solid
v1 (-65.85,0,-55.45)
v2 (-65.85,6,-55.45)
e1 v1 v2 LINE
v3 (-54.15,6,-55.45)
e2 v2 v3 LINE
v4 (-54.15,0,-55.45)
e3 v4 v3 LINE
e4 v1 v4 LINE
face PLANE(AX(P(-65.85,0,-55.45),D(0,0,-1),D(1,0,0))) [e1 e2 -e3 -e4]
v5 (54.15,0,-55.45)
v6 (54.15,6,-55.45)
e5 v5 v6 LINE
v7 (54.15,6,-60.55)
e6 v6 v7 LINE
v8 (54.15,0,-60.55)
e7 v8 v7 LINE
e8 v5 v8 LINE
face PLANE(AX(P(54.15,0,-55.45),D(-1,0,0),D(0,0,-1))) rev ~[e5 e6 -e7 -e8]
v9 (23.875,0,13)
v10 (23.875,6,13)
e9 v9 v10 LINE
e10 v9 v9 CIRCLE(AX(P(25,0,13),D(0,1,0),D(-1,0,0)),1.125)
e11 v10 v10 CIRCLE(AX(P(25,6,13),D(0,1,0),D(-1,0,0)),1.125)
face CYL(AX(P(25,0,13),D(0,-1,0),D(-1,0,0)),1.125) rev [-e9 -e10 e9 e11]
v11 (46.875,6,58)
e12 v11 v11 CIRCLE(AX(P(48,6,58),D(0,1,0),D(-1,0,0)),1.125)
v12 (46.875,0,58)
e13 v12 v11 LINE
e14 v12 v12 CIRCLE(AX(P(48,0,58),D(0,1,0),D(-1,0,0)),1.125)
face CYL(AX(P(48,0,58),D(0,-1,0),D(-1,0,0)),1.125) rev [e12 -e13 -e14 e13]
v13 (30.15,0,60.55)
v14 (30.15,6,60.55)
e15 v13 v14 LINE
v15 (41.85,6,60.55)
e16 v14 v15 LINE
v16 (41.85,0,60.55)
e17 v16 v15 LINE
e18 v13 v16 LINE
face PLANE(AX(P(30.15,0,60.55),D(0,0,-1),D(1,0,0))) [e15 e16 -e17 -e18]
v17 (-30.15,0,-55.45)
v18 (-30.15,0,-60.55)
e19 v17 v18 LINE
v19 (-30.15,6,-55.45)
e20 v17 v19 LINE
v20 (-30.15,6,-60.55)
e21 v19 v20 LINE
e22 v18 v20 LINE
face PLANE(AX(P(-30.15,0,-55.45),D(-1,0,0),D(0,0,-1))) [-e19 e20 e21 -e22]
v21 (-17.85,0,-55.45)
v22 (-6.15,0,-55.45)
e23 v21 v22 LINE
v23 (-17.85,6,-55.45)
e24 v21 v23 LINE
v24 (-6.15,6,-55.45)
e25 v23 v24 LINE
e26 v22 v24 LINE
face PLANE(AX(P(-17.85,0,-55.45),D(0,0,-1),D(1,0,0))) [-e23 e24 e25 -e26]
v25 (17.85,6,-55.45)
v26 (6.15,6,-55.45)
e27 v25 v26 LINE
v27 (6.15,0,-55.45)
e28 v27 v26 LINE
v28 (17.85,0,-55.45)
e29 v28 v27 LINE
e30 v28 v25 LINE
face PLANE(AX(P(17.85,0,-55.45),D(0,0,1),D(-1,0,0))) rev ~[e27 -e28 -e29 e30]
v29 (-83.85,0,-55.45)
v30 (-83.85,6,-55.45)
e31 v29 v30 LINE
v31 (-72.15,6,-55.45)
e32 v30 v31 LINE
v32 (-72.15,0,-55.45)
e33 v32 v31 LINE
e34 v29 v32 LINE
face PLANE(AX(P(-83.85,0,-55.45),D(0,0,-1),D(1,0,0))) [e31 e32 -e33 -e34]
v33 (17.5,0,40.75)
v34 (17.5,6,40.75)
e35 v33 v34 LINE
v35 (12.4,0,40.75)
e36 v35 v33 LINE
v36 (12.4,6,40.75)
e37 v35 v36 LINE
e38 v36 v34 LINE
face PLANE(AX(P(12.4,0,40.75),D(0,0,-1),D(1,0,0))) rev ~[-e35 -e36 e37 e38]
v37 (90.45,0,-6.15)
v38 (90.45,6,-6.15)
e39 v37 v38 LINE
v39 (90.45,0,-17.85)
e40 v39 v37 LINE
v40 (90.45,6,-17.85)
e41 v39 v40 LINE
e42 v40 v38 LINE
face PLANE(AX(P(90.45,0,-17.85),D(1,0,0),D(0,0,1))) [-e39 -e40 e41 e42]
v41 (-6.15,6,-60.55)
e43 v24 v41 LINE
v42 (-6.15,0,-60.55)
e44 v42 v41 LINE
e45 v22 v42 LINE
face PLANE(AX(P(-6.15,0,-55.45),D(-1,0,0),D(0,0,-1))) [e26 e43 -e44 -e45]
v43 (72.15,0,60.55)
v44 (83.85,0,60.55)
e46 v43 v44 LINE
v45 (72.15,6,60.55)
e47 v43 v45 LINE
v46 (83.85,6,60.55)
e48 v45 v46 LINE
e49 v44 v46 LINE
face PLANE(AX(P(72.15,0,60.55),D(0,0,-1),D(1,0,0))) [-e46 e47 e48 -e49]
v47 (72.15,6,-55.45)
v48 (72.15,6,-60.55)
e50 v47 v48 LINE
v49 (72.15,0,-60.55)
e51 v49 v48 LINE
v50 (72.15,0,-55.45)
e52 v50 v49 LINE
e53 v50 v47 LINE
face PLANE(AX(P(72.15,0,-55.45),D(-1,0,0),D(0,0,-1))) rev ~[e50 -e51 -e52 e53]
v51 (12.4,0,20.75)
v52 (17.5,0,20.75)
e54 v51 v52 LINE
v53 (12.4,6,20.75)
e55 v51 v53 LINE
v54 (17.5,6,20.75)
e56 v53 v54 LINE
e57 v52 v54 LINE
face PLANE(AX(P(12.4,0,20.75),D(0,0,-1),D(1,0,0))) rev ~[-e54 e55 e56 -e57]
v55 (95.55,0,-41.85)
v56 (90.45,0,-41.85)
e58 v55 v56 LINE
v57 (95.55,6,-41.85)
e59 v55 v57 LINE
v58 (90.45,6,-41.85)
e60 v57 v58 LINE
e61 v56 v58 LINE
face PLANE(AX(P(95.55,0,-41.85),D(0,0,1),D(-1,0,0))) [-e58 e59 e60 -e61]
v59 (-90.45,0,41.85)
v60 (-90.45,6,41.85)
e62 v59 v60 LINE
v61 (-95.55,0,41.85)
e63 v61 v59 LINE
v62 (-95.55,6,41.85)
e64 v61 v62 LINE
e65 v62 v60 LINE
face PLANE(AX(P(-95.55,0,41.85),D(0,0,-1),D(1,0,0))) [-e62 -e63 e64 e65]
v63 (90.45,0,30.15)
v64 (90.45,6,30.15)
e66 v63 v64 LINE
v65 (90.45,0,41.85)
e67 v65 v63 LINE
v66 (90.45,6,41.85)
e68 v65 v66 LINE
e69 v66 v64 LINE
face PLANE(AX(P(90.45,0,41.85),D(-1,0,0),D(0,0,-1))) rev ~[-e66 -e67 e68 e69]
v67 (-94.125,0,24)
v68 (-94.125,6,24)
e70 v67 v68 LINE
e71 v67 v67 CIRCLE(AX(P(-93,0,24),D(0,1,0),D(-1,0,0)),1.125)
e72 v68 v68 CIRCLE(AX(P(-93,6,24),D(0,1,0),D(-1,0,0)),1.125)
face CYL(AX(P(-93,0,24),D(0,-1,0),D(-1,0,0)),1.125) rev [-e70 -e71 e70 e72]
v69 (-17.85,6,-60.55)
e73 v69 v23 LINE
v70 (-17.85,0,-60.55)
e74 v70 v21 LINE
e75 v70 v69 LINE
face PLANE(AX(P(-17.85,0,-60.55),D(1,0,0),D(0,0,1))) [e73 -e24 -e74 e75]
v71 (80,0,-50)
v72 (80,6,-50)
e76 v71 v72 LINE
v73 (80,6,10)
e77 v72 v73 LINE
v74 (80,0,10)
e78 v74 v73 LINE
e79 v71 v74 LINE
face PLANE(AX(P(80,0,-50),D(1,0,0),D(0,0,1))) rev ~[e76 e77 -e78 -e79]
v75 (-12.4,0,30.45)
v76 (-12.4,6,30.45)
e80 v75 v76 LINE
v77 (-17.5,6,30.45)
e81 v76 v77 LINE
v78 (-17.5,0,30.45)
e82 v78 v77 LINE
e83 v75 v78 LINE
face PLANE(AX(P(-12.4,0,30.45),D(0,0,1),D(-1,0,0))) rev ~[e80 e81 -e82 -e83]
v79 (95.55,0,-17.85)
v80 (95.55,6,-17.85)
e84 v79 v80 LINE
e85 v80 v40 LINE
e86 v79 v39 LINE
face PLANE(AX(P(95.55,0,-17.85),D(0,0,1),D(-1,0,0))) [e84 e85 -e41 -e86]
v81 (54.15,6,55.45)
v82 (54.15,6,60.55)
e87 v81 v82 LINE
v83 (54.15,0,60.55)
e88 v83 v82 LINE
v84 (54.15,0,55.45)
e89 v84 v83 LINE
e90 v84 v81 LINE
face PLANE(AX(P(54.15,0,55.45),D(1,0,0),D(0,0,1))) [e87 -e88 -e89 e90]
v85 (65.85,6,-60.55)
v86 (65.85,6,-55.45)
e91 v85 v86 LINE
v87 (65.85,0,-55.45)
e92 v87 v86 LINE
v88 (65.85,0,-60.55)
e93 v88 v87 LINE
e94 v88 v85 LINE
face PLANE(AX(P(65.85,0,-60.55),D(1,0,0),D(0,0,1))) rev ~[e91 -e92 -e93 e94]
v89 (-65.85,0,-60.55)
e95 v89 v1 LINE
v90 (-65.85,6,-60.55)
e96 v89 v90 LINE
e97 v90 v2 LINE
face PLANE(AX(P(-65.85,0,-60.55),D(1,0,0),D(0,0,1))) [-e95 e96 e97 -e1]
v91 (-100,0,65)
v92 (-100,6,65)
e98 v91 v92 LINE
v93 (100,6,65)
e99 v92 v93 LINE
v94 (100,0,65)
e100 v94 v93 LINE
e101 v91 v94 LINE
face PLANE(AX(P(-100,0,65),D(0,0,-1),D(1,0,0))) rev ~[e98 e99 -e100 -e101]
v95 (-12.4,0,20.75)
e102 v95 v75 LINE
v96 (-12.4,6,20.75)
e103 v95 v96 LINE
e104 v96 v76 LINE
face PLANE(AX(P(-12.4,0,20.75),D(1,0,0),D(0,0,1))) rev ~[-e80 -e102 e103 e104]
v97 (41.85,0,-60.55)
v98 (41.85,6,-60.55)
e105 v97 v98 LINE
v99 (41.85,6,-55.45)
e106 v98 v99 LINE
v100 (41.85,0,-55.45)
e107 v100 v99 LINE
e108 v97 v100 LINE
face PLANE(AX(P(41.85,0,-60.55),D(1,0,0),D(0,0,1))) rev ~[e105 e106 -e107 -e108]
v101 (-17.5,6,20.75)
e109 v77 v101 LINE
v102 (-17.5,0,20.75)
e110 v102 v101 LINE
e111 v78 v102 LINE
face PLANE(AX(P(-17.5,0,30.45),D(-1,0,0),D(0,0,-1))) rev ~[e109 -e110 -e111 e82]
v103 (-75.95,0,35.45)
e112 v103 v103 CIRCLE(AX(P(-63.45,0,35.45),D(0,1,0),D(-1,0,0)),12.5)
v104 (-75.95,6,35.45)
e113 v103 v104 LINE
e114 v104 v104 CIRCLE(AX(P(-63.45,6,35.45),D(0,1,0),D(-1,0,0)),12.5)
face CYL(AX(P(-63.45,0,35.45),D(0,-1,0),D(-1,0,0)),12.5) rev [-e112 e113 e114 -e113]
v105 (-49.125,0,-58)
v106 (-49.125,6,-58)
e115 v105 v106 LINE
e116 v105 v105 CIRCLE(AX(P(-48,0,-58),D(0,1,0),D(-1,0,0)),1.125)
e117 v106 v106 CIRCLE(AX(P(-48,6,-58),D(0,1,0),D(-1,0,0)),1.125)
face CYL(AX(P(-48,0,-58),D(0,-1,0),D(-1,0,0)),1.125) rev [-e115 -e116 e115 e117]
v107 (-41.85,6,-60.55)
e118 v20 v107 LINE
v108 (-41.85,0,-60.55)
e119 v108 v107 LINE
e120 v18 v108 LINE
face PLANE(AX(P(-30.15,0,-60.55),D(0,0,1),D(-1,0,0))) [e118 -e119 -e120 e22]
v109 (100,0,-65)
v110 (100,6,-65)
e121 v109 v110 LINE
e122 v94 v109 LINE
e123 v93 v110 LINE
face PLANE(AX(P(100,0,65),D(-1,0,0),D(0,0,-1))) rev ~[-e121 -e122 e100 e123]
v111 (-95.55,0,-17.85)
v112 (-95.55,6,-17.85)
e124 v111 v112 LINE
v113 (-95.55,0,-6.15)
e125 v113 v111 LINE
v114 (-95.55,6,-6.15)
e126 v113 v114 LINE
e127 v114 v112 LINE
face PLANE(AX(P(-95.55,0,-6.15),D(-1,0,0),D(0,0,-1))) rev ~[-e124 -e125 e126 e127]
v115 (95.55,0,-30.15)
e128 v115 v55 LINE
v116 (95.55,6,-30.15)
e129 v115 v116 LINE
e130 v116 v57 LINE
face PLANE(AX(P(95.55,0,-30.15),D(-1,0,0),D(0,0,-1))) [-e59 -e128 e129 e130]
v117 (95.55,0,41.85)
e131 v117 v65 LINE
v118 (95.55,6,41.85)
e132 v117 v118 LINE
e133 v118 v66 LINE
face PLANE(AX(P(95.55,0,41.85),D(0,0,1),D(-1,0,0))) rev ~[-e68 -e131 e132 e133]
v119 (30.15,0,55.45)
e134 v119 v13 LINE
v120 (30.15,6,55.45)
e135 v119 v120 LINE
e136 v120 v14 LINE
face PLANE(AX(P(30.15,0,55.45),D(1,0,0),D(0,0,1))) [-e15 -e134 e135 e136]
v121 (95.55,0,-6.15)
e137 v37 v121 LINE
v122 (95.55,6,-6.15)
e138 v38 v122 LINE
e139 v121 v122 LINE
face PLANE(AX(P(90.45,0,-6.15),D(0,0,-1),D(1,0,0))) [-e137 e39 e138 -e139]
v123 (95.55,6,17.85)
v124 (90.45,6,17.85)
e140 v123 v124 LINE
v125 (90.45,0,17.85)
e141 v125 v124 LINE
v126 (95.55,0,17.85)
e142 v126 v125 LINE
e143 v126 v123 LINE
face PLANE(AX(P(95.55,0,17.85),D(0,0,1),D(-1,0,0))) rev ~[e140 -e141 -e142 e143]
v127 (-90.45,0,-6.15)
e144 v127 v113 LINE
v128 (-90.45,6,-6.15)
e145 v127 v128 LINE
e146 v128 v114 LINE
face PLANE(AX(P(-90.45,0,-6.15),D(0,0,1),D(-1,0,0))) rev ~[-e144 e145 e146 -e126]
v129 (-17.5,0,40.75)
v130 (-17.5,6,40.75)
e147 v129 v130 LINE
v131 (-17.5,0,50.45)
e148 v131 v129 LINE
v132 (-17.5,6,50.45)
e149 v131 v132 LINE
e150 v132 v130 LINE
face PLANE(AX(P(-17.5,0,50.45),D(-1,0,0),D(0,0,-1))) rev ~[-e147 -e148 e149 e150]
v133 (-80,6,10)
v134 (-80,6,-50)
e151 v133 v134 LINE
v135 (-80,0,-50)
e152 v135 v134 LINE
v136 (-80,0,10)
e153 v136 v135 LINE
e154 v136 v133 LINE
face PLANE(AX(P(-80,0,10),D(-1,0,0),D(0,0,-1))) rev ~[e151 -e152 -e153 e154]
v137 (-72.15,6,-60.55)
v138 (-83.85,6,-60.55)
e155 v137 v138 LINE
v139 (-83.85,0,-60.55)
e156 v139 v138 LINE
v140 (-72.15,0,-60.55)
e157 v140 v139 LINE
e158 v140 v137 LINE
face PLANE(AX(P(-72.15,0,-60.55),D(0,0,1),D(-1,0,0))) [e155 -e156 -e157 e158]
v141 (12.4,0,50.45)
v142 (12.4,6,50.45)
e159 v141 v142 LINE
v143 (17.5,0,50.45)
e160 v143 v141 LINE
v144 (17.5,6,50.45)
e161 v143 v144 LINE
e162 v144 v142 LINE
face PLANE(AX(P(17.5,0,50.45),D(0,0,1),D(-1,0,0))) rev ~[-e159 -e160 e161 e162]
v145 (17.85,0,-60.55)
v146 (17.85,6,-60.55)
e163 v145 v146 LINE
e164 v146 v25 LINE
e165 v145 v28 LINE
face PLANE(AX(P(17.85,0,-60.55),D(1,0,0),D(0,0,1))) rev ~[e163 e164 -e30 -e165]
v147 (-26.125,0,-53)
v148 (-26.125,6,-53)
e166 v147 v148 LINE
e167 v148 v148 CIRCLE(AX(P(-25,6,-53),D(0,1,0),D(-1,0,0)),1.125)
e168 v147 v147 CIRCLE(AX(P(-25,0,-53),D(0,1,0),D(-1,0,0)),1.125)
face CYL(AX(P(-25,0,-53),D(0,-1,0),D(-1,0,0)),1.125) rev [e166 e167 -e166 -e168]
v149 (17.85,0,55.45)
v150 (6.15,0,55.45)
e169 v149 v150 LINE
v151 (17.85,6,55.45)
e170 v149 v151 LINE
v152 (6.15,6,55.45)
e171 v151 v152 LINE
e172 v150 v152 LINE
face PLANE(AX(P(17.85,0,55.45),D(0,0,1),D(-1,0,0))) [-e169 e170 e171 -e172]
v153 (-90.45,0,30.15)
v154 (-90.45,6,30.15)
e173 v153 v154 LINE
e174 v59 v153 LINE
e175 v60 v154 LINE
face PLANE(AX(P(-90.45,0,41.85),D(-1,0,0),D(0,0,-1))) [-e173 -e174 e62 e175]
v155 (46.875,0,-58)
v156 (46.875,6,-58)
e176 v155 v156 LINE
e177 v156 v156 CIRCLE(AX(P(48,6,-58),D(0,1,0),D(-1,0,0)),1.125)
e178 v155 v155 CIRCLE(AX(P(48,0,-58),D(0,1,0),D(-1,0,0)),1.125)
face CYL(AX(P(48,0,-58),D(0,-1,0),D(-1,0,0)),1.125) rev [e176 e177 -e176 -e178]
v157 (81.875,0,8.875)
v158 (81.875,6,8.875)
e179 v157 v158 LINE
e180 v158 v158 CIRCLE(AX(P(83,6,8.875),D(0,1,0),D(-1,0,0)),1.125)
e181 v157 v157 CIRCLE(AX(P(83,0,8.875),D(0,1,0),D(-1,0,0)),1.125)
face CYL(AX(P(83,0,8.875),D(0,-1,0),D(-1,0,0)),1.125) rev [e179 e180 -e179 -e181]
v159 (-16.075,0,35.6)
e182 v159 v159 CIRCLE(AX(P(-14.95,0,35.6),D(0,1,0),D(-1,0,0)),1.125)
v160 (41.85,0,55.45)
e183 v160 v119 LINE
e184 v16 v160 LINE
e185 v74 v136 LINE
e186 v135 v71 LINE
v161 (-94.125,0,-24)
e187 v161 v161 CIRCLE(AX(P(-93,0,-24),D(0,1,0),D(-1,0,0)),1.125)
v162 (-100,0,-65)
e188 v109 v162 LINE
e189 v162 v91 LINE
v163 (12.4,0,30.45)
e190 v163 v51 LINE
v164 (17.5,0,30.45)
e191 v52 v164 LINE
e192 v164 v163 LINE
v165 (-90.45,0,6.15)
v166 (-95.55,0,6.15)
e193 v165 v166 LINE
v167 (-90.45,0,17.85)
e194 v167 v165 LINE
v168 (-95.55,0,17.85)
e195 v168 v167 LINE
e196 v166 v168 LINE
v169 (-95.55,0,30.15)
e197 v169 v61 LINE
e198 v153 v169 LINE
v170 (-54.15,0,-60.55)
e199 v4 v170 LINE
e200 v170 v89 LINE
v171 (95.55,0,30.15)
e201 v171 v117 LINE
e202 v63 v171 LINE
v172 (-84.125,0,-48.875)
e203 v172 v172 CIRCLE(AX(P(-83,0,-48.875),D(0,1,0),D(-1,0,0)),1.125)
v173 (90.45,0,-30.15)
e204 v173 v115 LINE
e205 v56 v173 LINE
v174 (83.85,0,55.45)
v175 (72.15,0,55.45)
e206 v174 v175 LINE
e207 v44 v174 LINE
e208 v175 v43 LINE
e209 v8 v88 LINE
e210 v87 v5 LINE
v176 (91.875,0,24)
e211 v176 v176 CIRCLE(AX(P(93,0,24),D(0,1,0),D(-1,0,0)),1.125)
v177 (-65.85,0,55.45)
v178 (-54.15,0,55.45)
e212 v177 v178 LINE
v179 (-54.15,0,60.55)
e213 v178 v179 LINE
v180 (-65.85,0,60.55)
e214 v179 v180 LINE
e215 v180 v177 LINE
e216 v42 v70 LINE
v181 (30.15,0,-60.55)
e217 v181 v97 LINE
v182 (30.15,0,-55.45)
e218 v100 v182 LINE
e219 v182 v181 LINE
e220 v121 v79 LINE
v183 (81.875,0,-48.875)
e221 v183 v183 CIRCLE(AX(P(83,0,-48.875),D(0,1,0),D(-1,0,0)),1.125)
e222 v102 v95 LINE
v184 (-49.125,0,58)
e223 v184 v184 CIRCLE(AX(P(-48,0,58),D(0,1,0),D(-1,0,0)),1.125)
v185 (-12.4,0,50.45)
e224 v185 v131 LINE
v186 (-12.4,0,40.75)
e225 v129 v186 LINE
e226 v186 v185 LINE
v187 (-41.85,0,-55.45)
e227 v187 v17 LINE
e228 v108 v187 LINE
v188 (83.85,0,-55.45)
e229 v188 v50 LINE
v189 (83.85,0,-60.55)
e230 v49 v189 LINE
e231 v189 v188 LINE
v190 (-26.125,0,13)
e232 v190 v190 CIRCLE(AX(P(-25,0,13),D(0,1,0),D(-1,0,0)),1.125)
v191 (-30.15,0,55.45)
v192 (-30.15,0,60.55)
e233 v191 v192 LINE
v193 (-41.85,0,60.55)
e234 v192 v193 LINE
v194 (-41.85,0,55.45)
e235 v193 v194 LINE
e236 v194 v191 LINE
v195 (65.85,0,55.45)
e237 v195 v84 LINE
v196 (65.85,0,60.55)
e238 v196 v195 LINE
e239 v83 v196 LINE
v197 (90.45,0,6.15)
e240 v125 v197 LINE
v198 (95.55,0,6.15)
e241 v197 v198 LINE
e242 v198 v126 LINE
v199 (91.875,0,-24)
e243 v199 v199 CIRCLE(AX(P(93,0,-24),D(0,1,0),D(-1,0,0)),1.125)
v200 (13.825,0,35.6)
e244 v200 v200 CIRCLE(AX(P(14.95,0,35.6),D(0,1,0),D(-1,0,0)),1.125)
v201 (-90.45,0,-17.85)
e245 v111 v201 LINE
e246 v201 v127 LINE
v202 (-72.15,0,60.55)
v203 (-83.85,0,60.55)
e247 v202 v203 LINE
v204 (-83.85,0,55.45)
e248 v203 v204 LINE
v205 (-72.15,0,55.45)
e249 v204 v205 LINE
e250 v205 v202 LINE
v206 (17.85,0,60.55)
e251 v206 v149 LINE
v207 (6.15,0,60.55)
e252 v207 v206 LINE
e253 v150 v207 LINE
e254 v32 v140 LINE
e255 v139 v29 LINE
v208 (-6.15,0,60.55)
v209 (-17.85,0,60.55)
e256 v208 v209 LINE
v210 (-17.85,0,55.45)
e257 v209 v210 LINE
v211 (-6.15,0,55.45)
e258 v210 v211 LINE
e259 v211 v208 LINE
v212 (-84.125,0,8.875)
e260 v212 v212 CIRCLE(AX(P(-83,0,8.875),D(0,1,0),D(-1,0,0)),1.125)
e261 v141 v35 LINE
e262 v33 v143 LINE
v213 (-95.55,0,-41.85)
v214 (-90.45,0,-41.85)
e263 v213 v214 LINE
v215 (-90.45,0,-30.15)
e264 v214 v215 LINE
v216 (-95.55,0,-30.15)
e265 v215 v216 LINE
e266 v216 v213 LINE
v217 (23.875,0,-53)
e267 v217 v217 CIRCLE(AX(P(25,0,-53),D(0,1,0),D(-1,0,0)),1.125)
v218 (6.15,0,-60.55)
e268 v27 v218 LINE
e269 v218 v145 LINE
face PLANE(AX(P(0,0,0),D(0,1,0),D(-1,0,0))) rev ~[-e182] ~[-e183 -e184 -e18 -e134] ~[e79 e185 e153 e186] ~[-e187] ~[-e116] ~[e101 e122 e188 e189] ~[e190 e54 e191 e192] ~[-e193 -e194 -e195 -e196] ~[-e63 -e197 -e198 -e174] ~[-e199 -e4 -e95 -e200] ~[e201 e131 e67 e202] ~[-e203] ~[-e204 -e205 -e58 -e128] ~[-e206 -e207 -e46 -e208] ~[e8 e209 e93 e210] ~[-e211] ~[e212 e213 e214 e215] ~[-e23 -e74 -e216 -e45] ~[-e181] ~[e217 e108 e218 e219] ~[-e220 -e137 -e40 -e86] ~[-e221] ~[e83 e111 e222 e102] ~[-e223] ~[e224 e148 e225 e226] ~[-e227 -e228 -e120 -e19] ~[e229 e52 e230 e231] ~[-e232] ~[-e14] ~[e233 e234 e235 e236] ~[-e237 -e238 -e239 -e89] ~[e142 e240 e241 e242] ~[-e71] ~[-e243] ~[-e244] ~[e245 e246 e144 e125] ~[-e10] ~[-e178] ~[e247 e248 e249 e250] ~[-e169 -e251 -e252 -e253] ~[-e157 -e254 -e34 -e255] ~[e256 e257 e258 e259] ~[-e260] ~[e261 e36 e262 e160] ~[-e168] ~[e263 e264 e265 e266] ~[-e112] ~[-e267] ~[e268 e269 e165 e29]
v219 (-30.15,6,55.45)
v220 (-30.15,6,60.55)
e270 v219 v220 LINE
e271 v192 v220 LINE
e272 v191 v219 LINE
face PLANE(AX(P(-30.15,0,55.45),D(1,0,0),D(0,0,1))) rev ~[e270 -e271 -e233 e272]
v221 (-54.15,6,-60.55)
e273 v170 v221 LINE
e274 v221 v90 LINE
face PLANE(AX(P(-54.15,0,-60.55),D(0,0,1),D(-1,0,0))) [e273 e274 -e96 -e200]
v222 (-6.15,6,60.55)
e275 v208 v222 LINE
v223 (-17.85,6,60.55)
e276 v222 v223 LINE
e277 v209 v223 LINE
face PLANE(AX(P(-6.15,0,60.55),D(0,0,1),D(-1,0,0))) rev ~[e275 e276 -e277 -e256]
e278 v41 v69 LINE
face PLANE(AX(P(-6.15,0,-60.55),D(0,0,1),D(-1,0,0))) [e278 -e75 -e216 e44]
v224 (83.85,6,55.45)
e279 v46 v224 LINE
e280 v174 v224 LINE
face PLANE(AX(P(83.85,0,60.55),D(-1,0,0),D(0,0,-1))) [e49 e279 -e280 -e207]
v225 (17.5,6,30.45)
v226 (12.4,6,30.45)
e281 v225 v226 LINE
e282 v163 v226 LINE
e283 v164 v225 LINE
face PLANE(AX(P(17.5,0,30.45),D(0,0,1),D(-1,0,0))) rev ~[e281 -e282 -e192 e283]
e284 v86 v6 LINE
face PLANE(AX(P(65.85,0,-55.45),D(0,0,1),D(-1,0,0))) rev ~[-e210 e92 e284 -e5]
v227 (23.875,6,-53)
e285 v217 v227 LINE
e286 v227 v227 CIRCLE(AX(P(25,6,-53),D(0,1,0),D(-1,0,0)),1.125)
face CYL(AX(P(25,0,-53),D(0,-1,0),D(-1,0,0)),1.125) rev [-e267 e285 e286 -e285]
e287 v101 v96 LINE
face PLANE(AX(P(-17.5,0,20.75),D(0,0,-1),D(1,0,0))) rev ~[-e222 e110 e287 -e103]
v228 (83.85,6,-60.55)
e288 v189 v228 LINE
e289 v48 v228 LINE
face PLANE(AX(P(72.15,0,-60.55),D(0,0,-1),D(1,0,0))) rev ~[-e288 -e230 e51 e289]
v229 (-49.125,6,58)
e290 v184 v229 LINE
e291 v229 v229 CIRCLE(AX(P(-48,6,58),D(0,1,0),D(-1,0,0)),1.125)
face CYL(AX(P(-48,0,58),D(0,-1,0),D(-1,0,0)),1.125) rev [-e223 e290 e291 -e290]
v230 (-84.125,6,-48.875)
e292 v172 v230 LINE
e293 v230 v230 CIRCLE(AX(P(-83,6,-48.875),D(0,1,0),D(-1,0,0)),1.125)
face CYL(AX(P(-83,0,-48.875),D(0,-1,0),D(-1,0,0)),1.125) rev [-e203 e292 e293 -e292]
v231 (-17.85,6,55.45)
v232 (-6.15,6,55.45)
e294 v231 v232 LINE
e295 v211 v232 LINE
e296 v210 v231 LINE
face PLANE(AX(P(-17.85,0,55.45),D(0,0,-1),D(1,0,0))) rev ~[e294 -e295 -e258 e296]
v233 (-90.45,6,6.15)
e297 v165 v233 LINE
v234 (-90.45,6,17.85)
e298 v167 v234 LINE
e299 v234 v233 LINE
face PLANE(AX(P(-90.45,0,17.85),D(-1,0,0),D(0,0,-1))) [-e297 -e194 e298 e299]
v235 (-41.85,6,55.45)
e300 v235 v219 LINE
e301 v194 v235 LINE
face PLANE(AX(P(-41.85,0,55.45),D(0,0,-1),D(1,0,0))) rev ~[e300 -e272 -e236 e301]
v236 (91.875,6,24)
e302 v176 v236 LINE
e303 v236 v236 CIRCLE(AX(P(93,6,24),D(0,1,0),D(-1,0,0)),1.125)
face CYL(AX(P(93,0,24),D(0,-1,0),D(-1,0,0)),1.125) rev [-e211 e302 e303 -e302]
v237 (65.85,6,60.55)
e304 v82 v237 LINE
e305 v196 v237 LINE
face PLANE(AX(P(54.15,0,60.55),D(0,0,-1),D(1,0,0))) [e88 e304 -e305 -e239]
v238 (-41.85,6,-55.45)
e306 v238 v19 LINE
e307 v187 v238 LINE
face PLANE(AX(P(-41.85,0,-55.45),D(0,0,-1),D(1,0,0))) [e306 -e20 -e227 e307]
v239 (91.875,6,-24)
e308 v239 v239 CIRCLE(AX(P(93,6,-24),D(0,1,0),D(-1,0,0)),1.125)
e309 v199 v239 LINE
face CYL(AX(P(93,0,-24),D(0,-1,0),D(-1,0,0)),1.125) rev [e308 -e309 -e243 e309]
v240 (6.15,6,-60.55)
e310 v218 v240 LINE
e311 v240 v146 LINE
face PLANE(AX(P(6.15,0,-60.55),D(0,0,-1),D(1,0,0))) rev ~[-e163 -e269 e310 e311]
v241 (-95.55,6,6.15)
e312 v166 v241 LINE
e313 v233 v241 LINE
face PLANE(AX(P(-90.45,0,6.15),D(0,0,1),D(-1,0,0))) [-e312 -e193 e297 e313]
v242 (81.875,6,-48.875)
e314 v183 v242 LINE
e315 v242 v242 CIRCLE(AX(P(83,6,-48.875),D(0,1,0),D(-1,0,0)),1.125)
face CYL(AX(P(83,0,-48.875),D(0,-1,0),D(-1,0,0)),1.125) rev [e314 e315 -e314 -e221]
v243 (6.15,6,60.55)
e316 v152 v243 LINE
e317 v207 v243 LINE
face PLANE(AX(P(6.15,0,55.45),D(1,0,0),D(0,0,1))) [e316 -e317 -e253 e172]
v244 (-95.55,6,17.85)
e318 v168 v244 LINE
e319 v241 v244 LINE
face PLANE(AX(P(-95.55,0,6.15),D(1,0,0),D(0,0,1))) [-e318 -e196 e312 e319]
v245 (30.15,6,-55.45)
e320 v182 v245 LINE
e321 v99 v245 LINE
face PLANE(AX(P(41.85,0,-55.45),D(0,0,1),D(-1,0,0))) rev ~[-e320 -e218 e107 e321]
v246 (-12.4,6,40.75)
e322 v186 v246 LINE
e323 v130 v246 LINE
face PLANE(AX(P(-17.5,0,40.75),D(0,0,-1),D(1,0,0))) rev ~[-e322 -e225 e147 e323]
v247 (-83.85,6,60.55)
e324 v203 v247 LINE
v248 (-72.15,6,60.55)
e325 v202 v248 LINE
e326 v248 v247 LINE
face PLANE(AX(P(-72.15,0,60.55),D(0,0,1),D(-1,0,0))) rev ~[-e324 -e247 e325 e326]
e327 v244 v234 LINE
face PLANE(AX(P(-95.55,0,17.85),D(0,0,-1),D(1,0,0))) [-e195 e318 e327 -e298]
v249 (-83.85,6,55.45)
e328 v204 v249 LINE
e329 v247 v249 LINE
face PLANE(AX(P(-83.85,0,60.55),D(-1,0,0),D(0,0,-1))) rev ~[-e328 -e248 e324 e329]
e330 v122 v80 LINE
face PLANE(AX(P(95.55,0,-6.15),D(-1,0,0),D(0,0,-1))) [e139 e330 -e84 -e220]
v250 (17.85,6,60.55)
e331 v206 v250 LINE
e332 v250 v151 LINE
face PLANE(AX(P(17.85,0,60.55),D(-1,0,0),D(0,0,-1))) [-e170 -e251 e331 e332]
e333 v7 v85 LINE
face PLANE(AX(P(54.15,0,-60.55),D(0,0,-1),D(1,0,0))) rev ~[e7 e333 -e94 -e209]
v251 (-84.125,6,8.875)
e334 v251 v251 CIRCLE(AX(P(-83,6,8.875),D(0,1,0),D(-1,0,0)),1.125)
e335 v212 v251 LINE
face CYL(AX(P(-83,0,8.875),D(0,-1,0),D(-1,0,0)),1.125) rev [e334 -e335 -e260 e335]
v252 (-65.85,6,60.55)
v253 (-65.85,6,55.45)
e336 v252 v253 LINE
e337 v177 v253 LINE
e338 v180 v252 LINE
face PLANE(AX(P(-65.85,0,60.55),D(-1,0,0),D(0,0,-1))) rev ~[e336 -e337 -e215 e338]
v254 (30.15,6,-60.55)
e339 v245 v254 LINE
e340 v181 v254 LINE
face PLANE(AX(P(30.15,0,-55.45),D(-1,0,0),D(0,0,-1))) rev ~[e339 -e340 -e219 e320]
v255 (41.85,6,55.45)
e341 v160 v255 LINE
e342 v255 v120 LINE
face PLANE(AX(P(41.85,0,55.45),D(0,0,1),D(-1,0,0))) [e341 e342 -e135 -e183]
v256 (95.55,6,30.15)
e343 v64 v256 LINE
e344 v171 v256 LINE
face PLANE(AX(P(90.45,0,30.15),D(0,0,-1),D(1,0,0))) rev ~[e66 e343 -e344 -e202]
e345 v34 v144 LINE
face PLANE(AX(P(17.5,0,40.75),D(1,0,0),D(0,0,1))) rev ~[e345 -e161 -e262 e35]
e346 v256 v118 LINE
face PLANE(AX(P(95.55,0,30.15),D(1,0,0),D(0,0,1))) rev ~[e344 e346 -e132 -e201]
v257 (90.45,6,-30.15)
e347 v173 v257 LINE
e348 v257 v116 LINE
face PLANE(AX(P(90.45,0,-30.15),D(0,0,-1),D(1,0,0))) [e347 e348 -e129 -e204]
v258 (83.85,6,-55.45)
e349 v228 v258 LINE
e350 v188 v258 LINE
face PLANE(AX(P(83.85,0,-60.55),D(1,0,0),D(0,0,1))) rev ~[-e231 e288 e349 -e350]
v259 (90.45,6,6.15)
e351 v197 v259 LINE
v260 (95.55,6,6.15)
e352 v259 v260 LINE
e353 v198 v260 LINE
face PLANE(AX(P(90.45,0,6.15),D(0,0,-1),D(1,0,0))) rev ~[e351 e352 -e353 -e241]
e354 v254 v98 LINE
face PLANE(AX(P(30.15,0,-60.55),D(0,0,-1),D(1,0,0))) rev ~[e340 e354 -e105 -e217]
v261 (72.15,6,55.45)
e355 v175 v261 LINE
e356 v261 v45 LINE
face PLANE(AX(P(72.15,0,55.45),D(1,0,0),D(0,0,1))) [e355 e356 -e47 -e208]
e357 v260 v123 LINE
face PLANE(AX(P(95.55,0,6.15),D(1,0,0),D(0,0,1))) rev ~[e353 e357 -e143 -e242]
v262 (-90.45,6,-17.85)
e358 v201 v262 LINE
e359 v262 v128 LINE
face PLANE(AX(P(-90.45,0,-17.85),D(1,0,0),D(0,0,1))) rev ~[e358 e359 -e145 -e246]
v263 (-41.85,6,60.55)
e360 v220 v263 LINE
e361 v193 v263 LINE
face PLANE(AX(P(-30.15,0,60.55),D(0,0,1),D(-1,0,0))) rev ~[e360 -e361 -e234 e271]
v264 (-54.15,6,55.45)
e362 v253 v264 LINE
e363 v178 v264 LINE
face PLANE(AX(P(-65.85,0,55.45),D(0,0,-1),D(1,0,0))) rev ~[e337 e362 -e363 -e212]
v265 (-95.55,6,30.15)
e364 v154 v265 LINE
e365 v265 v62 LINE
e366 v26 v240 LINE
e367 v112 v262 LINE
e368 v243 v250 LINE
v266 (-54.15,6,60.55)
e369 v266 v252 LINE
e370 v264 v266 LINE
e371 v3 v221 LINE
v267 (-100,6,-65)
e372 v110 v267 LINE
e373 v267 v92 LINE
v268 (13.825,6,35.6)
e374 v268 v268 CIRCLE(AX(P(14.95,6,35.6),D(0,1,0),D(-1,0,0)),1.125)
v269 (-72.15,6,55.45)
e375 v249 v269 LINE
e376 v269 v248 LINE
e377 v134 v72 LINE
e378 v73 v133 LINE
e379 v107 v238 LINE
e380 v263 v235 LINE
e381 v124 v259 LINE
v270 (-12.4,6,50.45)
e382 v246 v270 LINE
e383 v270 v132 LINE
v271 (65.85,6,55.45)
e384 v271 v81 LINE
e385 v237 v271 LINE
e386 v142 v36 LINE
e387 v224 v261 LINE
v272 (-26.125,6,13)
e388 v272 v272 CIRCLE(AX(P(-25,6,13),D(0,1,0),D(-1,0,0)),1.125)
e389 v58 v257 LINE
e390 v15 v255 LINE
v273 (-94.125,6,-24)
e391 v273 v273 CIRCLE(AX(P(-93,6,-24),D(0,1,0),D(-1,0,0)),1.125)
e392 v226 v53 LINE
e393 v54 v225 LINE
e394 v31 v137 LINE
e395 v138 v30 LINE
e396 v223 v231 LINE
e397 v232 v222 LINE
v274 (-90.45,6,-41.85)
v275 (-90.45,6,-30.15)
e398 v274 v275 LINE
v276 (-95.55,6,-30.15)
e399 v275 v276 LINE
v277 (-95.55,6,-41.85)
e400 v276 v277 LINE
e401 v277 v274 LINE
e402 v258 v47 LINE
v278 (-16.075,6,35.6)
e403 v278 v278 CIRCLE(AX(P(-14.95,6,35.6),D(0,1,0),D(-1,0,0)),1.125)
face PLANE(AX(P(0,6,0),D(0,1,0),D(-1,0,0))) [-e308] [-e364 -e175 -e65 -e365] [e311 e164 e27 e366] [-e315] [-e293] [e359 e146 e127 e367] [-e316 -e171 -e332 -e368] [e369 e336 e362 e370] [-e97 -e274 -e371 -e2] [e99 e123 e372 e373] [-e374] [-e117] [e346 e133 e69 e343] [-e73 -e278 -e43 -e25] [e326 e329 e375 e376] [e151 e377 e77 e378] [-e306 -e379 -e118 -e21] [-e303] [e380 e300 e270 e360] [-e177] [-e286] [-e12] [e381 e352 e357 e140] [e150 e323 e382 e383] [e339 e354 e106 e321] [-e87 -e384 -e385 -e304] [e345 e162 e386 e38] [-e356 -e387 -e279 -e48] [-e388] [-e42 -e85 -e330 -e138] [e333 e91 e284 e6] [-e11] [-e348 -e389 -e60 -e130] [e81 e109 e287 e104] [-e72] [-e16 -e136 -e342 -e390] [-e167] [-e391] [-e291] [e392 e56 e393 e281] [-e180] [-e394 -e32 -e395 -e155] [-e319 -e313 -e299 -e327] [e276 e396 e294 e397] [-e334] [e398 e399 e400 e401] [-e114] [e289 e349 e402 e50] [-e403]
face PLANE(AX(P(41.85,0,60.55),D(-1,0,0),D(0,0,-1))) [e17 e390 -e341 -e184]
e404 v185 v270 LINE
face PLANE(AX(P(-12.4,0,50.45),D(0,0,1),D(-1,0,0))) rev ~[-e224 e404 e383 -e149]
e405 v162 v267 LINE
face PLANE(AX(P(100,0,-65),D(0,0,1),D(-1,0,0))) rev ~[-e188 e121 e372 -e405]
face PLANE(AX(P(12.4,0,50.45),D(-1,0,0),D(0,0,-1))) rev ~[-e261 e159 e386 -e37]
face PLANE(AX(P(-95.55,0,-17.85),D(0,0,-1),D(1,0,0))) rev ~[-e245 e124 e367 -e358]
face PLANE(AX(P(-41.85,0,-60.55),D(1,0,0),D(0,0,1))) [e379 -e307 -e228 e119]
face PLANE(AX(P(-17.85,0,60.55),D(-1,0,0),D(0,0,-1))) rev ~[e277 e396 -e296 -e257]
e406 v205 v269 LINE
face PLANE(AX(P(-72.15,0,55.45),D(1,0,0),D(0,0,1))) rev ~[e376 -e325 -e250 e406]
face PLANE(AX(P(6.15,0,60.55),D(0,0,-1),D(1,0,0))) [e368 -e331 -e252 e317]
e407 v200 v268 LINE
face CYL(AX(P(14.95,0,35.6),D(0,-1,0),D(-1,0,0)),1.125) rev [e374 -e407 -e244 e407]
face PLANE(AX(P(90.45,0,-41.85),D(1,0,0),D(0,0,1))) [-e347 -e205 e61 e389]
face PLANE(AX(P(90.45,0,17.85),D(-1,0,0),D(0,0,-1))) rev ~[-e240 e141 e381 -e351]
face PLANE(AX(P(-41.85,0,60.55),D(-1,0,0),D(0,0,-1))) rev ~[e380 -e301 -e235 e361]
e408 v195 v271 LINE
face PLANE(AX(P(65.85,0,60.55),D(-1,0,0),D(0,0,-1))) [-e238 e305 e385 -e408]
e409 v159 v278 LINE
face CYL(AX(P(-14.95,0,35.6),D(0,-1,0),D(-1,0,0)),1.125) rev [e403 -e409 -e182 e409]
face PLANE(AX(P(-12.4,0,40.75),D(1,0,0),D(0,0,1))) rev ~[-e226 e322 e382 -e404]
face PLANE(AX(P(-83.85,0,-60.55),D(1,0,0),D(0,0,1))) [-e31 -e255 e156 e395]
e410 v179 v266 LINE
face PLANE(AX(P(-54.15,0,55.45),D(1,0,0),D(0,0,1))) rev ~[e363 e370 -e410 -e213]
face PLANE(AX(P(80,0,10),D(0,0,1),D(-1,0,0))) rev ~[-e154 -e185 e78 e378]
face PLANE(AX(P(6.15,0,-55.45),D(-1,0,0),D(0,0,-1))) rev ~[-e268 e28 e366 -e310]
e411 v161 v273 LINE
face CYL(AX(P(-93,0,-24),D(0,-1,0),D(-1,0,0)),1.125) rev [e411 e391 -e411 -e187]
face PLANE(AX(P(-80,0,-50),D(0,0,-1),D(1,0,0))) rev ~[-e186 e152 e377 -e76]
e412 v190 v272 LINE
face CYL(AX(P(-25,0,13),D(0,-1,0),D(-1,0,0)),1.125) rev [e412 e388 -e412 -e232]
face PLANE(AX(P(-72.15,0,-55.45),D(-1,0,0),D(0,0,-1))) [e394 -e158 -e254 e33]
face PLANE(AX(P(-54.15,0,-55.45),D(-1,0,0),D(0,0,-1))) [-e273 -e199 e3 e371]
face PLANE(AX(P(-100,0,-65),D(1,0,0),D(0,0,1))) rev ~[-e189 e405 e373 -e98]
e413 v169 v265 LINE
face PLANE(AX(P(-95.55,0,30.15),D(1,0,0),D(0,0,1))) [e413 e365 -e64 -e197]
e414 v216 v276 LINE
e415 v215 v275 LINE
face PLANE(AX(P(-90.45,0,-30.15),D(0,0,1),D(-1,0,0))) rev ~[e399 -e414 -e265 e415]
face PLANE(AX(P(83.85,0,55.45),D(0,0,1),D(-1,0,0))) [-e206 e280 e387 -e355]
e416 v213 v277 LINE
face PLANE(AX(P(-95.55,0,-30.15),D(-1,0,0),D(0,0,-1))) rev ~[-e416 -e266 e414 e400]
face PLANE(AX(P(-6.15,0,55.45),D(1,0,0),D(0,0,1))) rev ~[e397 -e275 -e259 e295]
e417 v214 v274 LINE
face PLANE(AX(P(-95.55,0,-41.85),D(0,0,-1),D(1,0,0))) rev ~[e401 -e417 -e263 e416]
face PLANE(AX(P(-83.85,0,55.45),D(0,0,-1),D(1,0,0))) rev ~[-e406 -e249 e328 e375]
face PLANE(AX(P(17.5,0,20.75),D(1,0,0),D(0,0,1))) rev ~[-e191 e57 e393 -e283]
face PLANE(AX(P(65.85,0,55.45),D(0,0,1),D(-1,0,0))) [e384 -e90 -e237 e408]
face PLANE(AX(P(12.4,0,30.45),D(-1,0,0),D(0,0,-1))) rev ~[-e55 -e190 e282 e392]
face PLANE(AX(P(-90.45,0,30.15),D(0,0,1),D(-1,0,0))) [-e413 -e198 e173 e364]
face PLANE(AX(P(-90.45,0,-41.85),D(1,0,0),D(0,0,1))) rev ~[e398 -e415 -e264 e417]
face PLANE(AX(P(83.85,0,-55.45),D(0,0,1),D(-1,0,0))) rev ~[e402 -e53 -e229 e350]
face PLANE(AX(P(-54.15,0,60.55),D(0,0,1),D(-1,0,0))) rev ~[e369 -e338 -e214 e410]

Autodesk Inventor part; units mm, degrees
ref_plane "YZ Plane" through (0, 0, 0) normal (1, 0, 0) x (0, 1, 0)
ref_plane "XZ Plane" through (0, 0, 0) normal (0, 1, 0) x (-1, 0, 0)
ref_plane "XY Plane" through (0, 0, 0) normal (0, 0, 1) x (1, 0, 0)
sketch "Sketch1" plane through (0, 0, 0) normal (0, 1, 0) x (-1, 0, 0)
  line L0 (100, 65) -> (-100, 65)
  line L1 (-100, 65) -> (-100, -65)
  line L2 (-100, -65) -> (100, -65)
  line L3 (100, -65) -> (100, 65)
  line L4 (100, 65) -> (-100, -65) construction
  line L5 (-100, 65) -> (100, -65) construction
  line L6 (0, 0) -> (4.5236, 0)
  line L7 (0, 8) -> (0, -20)
  line L8 (0, 0) -> (5.2635, 0)
  line L9 (95.55, -41.85) -> (90.45, -41.85)
  line L10 (90.45, -41.85) -> (90.45, -30.15)
  line L11 (90.45, -30.15) -> (95.55, -30.15)
  line L12 (95.55, -30.15) -> (95.55, -41.85)
  line L13 (95.55, -17.85) -> (90.45, -17.85)
  line L14 (90.45, -17.85) -> (90.45, -6.15)
  line L15 (90.45, -6.15) -> (95.55, -6.15)
  line L16 (95.55, -6.15) -> (95.55, -17.85)
  line L17 (65.85, -55.45) -> (54.15, -55.45)
  line L18 (54.15, -55.45) -> (54.15, -60.55)
  line L19 (54.15, -60.55) -> (65.85, -60.55)
  line L20 (65.85, -60.55) -> (65.85, -55.45)
  line L21 (41.85, -55.45) -> (30.15, -55.45)
  line L22 (30.15, -55.45) -> (30.15, -60.55)
  line L23 (30.15, -60.55) -> (41.85, -60.55)
  line L24 (41.85, -60.55) -> (41.85, -55.45)
  line L25 (17.85, -55.45) -> (6.15, -55.45)
  line L26 (6.15, -55.45) -> (6.15, -60.55)
  line L27 (6.15, -60.55) -> (17.85, -60.55)
  line L28 (17.85, -60.55) -> (17.85, -55.45)
  line L29 (72.15, -60.55) -> (83.85, -60.55)
  line L30 (83.85, -60.55) -> (83.85, -55.45)
  line L31 (83.85, -55.45) -> (72.15, -55.45)
  line L32 (72.15, -55.45) -> (72.15, -60.55)
  line L33 (-95.55, -41.85) -> (-90.45, -41.85)
  line L34 (-90.45, -41.85) -> (-90.45, -30.15)
  line L35 (-90.45, -30.15) -> (-95.55, -30.15)
  line L36 (-95.55, -30.15) -> (-95.55, -41.85)
  line L37 (-95.55, -17.85) -> (-90.45, -17.85)
  line L38 (-90.45, -17.85) -> (-90.45, -6.15)
  line L39 (-90.45, -6.15) -> (-95.55, -6.15)
  line L40 (-95.55, -6.15) -> (-95.55, -17.85)
  line L41 (-65.85, -55.45) -> (-54.15, -55.45)
  line L42 (-54.15, -55.45) -> (-54.15, -60.55)
  line L43 (-54.15, -60.55) -> (-65.85, -60.55)
  line L44 (-65.85, -60.55) -> (-65.85, -55.45)
  line L45 (-41.85, -55.45) -> (-30.15, -55.45)
  line L46 (-30.15, -55.45) -> (-30.15, -60.55)
  line L47 (-30.15, -60.55) -> (-41.85, -60.55)
  line L48 (-41.85, -60.55) -> (-41.85, -55.45)
  line L49 (-17.85, -55.45) -> (-6.15, -55.45)
  line L50 (-6.15, -55.45) -> (-6.15, -60.55)
  line L51 (-6.15, -60.55) -> (-17.85, -60.55)
  line L52 (-17.85, -60.55) -> (-17.85, -55.45)
  line L53 (-72.15, -60.55) -> (-83.85, -60.55)
  line L54 (-83.85, -60.55) -> (-83.85, -55.45)
  line L55 (-83.85, -55.45) -> (-72.15, -55.45)
  line L56 (-72.15, -55.45) -> (-72.15, -60.55)
  line L57 (95.55, 41.85) -> (90.45, 41.85)
  line L58 (90.45, 41.85) -> (90.45, 30.15)
  line L59 (90.45, 30.15) -> (95.55, 30.15)
  line L60 (95.55, 30.15) -> (95.55, 41.85)
  line L61 (95.55, 17.85) -> (90.45, 17.85)
  line L62 (90.45, 17.85) -> (90.45, 6.15)
  line L63 (90.45, 6.15) -> (95.55, 6.15)
  line L64 (95.55, 6.15) -> (95.55, 17.85)
  line L65 (65.85, 55.45) -> (54.15, 55.45)
  line L66 (54.15, 55.45) -> (54.15, 60.55)
  line L67 (54.15, 60.55) -> (65.85, 60.55)
  line L68 (65.85, 60.55) -> (65.85, 55.45)
  line L69 (41.85, 55.45) -> (30.15, 55.45)
  line L70 (30.15, 55.45) -> (30.15, 60.55)
  line L71 (30.15, 60.55) -> (41.85, 60.55)
  line L72 (41.85, 60.55) -> (41.85, 55.45)
  line L73 (17.85, 55.45) -> (6.15, 55.45)
  line L74 (6.15, 55.45) -> (6.15, 60.55)
  line L75 (6.15, 60.55) -> (17.85, 60.55)
  line L76 (17.85, 60.55) -> (17.85, 55.45)
  line L77 (72.15, 60.55) -> (83.85, 60.55)
  line L78 (83.85, 60.55) -> (83.85, 55.45)
  line L79 (83.85, 55.45) -> (72.15, 55.45)
  line L80 (72.15, 55.45) -> (72.15, 60.55)
  line L81 (-90.45, 30.15) -> (-95.55, 30.15)
  line L82 (-95.55, 17.85) -> (-90.45, 17.85)
  line L83 (-90.45, 17.85) -> (-90.45, 6.15)
  line L84 (-90.45, 6.15) -> (-95.55, 6.15)
  line L85 (-95.55, 6.15) -> (-95.55, 17.85)
  line L86 (-95.55, 41.85) -> (-90.45, 41.85)
  line L87 (-95.55, 30.15) -> (-95.55, 41.85)
  line L88 (-90.45, 41.85) -> (-90.45, 30.15)
  line L89 (-83.85, 55.45) -> (-72.15, 55.45)
  line L90 (-83.85, 60.55) -> (-83.85, 55.45)
  line L91 (-72.15, 60.55) -> (-83.85, 60.55)
  line L92 (-72.15, 55.45) -> (-72.15, 60.55)
  line L93 (-65.85, 60.55) -> (-65.85, 55.45)
  line L94 (-54.15, 55.45) -> (-54.15, 60.55)
  line L95 (-54.15, 60.55) -> (-65.85, 60.55)
  line L96 (-65.85, 55.45) -> (-54.15, 55.45)
  line L97 (-6.15, 55.45) -> (-6.15, 60.55)
  line L98 (-17.85, 55.45) -> (-6.15, 55.45)
  line L99 (-6.15, 60.55) -> (-17.85, 60.55)
  line L100 (-17.85, 60.55) -> (-17.85, 55.45)
  line L101 (-30.15, 55.45) -> (-30.15, 60.55)
  line L102 (-41.85, 60.55) -> (-41.85, 55.45)
  line L103 (-30.15, 60.55) -> (-41.85, 60.55)
  line L104 (-41.85, 55.45) -> (-30.15, 55.45)
  line L105 (80, -50) -> (-80, -50)
  line L106 (-80, -50) -> (-80, 10)
  line L107 (-80, 10) -> (80, 10)
  line L108 (80, 10) -> (80, -50)
  circle A0 centre (63.45, 35.45) radius 12.5
  circle A1 centre (83, -48.875) radius 1.125
  circle A2 centre (-25, -53) radius 1.125
  circle A3 centre (-83, -48.875) radius 1.125
  line L109 (0, -20) -> (17.6, -20)
  circle A4 centre (83, 8.875) radius 1.125
  circle A5 centre (-25, 13) radius 1.125
  circle A6 centre (-83, 8.875) radius 1.125
  circle A7 centre (25, -53) radius 1.125
  circle A8 centre (25, 13) radius 1.125
  circle A9 centre (93, 24) radius 1.125
  circle A10 centre (48, 58) radius 1.125
  circle A11 centre (93, -24) radius 1.125
  circle A12 centre (48, -58) radius 1.125
  circle A13 centre (-93, 24) radius 1.125
  circle A14 centre (-48, 58) radius 1.125
  circle A15 centre (-48, -58) radius 1.125
  circle A16 centre (-93, -24) radius 1.125
  line L110 (17.5, 20.75) -> (12.4, 20.75)
  line L111 (12.4, 20.75) -> (12.4, 30.45)
  line L112 (12.4, 30.45) -> (17.5, 30.45)
  line L113 (17.5, 30.45) -> (17.5, 20.75)
  line L114 (-12.4, 20.75) -> (-17.5, 20.75)
  line L115 (-12.4, 30.45) -> (-12.4, 20.75)
  line L116 (-17.5, 30.45) -> (-12.4, 30.45)
  line L117 (-17.5, 20.75) -> (-17.5, 30.45)
  line L118 (17.5, 40.75) -> (12.4, 40.75)
  line L119 (17.5, 50.45) -> (17.5, 40.75)
  line L120 (12.4, 50.45) -> (17.5, 50.45)
  line L121 (12.4, 40.75) -> (12.4, 50.45)
  line L122 (-12.4, 40.75) -> (-17.5, 40.75)
  line L123 (-12.4, 50.45) -> (-12.4, 40.75)
  line L124 (-17.5, 50.45) -> (-12.4, 50.45)
  line L125 (-17.5, 40.75) -> (-17.5, 50.45)
  circle A17 centre (14.95, 35.6) radius 1.125
  circle A18 centre (-14.95, 35.6) radius 1.125
  point P0 (0, 0)
  point P1 (0, 0)
  dimension "d0" = 130
  dimension "d1" = 200
  dimension "d31" = 5.1
  dimension "d32" = 4.45
  dimension "d34" = 6.15
  dimension "d35" = 11.7
  dimension "d36" = 12.3
  dimension "d37" = 11.7
  dimension "d38" = 6.15
  dimension "d39" = 11.7
  dimension "d40" = 12.3
  dimension "d41" = 11.7
  dimension "d42" = 12.3
  dimension "d43" = 11.7
  dimension "d44" = 6.3
  dimension "d45" = 11.7
  dimension "d46" = 5.1
  dimension "d47" = 4.45
  dimension "d58" = 160
  dimension "d59" = 60
  dimension "d60" = 15
  dimension "d61" = 20
  dimension "d66" = 25
  dimension "d67" = 20
  dimension "d78" = 2.25
  dimension "d80" = 3
  dimension "d81" = 3
  dimension "d82" = 3
  dimension "d83" = 25
  dimension "d84" = 2.55
  dimension "d85" = 6.15
  dimension "d86" = 2.55
  dimension "d87" = 6.15
  dimension "d88" = 5.1
  dimension "d89" = 9.7
  dimension "d92" = 29.9
  dimension "d95" = 20
  dimension "d98" = 5
  dimension "d99" = 2.25
  dimension "d100" = 5.15
  dimension "d101" = 2.55
  dimension "d102" = 27
extrude "Extrusion3" add sketch "Sketch1" along normal blind 6
properties part number "case_top" material "Acrylic, Clear"
